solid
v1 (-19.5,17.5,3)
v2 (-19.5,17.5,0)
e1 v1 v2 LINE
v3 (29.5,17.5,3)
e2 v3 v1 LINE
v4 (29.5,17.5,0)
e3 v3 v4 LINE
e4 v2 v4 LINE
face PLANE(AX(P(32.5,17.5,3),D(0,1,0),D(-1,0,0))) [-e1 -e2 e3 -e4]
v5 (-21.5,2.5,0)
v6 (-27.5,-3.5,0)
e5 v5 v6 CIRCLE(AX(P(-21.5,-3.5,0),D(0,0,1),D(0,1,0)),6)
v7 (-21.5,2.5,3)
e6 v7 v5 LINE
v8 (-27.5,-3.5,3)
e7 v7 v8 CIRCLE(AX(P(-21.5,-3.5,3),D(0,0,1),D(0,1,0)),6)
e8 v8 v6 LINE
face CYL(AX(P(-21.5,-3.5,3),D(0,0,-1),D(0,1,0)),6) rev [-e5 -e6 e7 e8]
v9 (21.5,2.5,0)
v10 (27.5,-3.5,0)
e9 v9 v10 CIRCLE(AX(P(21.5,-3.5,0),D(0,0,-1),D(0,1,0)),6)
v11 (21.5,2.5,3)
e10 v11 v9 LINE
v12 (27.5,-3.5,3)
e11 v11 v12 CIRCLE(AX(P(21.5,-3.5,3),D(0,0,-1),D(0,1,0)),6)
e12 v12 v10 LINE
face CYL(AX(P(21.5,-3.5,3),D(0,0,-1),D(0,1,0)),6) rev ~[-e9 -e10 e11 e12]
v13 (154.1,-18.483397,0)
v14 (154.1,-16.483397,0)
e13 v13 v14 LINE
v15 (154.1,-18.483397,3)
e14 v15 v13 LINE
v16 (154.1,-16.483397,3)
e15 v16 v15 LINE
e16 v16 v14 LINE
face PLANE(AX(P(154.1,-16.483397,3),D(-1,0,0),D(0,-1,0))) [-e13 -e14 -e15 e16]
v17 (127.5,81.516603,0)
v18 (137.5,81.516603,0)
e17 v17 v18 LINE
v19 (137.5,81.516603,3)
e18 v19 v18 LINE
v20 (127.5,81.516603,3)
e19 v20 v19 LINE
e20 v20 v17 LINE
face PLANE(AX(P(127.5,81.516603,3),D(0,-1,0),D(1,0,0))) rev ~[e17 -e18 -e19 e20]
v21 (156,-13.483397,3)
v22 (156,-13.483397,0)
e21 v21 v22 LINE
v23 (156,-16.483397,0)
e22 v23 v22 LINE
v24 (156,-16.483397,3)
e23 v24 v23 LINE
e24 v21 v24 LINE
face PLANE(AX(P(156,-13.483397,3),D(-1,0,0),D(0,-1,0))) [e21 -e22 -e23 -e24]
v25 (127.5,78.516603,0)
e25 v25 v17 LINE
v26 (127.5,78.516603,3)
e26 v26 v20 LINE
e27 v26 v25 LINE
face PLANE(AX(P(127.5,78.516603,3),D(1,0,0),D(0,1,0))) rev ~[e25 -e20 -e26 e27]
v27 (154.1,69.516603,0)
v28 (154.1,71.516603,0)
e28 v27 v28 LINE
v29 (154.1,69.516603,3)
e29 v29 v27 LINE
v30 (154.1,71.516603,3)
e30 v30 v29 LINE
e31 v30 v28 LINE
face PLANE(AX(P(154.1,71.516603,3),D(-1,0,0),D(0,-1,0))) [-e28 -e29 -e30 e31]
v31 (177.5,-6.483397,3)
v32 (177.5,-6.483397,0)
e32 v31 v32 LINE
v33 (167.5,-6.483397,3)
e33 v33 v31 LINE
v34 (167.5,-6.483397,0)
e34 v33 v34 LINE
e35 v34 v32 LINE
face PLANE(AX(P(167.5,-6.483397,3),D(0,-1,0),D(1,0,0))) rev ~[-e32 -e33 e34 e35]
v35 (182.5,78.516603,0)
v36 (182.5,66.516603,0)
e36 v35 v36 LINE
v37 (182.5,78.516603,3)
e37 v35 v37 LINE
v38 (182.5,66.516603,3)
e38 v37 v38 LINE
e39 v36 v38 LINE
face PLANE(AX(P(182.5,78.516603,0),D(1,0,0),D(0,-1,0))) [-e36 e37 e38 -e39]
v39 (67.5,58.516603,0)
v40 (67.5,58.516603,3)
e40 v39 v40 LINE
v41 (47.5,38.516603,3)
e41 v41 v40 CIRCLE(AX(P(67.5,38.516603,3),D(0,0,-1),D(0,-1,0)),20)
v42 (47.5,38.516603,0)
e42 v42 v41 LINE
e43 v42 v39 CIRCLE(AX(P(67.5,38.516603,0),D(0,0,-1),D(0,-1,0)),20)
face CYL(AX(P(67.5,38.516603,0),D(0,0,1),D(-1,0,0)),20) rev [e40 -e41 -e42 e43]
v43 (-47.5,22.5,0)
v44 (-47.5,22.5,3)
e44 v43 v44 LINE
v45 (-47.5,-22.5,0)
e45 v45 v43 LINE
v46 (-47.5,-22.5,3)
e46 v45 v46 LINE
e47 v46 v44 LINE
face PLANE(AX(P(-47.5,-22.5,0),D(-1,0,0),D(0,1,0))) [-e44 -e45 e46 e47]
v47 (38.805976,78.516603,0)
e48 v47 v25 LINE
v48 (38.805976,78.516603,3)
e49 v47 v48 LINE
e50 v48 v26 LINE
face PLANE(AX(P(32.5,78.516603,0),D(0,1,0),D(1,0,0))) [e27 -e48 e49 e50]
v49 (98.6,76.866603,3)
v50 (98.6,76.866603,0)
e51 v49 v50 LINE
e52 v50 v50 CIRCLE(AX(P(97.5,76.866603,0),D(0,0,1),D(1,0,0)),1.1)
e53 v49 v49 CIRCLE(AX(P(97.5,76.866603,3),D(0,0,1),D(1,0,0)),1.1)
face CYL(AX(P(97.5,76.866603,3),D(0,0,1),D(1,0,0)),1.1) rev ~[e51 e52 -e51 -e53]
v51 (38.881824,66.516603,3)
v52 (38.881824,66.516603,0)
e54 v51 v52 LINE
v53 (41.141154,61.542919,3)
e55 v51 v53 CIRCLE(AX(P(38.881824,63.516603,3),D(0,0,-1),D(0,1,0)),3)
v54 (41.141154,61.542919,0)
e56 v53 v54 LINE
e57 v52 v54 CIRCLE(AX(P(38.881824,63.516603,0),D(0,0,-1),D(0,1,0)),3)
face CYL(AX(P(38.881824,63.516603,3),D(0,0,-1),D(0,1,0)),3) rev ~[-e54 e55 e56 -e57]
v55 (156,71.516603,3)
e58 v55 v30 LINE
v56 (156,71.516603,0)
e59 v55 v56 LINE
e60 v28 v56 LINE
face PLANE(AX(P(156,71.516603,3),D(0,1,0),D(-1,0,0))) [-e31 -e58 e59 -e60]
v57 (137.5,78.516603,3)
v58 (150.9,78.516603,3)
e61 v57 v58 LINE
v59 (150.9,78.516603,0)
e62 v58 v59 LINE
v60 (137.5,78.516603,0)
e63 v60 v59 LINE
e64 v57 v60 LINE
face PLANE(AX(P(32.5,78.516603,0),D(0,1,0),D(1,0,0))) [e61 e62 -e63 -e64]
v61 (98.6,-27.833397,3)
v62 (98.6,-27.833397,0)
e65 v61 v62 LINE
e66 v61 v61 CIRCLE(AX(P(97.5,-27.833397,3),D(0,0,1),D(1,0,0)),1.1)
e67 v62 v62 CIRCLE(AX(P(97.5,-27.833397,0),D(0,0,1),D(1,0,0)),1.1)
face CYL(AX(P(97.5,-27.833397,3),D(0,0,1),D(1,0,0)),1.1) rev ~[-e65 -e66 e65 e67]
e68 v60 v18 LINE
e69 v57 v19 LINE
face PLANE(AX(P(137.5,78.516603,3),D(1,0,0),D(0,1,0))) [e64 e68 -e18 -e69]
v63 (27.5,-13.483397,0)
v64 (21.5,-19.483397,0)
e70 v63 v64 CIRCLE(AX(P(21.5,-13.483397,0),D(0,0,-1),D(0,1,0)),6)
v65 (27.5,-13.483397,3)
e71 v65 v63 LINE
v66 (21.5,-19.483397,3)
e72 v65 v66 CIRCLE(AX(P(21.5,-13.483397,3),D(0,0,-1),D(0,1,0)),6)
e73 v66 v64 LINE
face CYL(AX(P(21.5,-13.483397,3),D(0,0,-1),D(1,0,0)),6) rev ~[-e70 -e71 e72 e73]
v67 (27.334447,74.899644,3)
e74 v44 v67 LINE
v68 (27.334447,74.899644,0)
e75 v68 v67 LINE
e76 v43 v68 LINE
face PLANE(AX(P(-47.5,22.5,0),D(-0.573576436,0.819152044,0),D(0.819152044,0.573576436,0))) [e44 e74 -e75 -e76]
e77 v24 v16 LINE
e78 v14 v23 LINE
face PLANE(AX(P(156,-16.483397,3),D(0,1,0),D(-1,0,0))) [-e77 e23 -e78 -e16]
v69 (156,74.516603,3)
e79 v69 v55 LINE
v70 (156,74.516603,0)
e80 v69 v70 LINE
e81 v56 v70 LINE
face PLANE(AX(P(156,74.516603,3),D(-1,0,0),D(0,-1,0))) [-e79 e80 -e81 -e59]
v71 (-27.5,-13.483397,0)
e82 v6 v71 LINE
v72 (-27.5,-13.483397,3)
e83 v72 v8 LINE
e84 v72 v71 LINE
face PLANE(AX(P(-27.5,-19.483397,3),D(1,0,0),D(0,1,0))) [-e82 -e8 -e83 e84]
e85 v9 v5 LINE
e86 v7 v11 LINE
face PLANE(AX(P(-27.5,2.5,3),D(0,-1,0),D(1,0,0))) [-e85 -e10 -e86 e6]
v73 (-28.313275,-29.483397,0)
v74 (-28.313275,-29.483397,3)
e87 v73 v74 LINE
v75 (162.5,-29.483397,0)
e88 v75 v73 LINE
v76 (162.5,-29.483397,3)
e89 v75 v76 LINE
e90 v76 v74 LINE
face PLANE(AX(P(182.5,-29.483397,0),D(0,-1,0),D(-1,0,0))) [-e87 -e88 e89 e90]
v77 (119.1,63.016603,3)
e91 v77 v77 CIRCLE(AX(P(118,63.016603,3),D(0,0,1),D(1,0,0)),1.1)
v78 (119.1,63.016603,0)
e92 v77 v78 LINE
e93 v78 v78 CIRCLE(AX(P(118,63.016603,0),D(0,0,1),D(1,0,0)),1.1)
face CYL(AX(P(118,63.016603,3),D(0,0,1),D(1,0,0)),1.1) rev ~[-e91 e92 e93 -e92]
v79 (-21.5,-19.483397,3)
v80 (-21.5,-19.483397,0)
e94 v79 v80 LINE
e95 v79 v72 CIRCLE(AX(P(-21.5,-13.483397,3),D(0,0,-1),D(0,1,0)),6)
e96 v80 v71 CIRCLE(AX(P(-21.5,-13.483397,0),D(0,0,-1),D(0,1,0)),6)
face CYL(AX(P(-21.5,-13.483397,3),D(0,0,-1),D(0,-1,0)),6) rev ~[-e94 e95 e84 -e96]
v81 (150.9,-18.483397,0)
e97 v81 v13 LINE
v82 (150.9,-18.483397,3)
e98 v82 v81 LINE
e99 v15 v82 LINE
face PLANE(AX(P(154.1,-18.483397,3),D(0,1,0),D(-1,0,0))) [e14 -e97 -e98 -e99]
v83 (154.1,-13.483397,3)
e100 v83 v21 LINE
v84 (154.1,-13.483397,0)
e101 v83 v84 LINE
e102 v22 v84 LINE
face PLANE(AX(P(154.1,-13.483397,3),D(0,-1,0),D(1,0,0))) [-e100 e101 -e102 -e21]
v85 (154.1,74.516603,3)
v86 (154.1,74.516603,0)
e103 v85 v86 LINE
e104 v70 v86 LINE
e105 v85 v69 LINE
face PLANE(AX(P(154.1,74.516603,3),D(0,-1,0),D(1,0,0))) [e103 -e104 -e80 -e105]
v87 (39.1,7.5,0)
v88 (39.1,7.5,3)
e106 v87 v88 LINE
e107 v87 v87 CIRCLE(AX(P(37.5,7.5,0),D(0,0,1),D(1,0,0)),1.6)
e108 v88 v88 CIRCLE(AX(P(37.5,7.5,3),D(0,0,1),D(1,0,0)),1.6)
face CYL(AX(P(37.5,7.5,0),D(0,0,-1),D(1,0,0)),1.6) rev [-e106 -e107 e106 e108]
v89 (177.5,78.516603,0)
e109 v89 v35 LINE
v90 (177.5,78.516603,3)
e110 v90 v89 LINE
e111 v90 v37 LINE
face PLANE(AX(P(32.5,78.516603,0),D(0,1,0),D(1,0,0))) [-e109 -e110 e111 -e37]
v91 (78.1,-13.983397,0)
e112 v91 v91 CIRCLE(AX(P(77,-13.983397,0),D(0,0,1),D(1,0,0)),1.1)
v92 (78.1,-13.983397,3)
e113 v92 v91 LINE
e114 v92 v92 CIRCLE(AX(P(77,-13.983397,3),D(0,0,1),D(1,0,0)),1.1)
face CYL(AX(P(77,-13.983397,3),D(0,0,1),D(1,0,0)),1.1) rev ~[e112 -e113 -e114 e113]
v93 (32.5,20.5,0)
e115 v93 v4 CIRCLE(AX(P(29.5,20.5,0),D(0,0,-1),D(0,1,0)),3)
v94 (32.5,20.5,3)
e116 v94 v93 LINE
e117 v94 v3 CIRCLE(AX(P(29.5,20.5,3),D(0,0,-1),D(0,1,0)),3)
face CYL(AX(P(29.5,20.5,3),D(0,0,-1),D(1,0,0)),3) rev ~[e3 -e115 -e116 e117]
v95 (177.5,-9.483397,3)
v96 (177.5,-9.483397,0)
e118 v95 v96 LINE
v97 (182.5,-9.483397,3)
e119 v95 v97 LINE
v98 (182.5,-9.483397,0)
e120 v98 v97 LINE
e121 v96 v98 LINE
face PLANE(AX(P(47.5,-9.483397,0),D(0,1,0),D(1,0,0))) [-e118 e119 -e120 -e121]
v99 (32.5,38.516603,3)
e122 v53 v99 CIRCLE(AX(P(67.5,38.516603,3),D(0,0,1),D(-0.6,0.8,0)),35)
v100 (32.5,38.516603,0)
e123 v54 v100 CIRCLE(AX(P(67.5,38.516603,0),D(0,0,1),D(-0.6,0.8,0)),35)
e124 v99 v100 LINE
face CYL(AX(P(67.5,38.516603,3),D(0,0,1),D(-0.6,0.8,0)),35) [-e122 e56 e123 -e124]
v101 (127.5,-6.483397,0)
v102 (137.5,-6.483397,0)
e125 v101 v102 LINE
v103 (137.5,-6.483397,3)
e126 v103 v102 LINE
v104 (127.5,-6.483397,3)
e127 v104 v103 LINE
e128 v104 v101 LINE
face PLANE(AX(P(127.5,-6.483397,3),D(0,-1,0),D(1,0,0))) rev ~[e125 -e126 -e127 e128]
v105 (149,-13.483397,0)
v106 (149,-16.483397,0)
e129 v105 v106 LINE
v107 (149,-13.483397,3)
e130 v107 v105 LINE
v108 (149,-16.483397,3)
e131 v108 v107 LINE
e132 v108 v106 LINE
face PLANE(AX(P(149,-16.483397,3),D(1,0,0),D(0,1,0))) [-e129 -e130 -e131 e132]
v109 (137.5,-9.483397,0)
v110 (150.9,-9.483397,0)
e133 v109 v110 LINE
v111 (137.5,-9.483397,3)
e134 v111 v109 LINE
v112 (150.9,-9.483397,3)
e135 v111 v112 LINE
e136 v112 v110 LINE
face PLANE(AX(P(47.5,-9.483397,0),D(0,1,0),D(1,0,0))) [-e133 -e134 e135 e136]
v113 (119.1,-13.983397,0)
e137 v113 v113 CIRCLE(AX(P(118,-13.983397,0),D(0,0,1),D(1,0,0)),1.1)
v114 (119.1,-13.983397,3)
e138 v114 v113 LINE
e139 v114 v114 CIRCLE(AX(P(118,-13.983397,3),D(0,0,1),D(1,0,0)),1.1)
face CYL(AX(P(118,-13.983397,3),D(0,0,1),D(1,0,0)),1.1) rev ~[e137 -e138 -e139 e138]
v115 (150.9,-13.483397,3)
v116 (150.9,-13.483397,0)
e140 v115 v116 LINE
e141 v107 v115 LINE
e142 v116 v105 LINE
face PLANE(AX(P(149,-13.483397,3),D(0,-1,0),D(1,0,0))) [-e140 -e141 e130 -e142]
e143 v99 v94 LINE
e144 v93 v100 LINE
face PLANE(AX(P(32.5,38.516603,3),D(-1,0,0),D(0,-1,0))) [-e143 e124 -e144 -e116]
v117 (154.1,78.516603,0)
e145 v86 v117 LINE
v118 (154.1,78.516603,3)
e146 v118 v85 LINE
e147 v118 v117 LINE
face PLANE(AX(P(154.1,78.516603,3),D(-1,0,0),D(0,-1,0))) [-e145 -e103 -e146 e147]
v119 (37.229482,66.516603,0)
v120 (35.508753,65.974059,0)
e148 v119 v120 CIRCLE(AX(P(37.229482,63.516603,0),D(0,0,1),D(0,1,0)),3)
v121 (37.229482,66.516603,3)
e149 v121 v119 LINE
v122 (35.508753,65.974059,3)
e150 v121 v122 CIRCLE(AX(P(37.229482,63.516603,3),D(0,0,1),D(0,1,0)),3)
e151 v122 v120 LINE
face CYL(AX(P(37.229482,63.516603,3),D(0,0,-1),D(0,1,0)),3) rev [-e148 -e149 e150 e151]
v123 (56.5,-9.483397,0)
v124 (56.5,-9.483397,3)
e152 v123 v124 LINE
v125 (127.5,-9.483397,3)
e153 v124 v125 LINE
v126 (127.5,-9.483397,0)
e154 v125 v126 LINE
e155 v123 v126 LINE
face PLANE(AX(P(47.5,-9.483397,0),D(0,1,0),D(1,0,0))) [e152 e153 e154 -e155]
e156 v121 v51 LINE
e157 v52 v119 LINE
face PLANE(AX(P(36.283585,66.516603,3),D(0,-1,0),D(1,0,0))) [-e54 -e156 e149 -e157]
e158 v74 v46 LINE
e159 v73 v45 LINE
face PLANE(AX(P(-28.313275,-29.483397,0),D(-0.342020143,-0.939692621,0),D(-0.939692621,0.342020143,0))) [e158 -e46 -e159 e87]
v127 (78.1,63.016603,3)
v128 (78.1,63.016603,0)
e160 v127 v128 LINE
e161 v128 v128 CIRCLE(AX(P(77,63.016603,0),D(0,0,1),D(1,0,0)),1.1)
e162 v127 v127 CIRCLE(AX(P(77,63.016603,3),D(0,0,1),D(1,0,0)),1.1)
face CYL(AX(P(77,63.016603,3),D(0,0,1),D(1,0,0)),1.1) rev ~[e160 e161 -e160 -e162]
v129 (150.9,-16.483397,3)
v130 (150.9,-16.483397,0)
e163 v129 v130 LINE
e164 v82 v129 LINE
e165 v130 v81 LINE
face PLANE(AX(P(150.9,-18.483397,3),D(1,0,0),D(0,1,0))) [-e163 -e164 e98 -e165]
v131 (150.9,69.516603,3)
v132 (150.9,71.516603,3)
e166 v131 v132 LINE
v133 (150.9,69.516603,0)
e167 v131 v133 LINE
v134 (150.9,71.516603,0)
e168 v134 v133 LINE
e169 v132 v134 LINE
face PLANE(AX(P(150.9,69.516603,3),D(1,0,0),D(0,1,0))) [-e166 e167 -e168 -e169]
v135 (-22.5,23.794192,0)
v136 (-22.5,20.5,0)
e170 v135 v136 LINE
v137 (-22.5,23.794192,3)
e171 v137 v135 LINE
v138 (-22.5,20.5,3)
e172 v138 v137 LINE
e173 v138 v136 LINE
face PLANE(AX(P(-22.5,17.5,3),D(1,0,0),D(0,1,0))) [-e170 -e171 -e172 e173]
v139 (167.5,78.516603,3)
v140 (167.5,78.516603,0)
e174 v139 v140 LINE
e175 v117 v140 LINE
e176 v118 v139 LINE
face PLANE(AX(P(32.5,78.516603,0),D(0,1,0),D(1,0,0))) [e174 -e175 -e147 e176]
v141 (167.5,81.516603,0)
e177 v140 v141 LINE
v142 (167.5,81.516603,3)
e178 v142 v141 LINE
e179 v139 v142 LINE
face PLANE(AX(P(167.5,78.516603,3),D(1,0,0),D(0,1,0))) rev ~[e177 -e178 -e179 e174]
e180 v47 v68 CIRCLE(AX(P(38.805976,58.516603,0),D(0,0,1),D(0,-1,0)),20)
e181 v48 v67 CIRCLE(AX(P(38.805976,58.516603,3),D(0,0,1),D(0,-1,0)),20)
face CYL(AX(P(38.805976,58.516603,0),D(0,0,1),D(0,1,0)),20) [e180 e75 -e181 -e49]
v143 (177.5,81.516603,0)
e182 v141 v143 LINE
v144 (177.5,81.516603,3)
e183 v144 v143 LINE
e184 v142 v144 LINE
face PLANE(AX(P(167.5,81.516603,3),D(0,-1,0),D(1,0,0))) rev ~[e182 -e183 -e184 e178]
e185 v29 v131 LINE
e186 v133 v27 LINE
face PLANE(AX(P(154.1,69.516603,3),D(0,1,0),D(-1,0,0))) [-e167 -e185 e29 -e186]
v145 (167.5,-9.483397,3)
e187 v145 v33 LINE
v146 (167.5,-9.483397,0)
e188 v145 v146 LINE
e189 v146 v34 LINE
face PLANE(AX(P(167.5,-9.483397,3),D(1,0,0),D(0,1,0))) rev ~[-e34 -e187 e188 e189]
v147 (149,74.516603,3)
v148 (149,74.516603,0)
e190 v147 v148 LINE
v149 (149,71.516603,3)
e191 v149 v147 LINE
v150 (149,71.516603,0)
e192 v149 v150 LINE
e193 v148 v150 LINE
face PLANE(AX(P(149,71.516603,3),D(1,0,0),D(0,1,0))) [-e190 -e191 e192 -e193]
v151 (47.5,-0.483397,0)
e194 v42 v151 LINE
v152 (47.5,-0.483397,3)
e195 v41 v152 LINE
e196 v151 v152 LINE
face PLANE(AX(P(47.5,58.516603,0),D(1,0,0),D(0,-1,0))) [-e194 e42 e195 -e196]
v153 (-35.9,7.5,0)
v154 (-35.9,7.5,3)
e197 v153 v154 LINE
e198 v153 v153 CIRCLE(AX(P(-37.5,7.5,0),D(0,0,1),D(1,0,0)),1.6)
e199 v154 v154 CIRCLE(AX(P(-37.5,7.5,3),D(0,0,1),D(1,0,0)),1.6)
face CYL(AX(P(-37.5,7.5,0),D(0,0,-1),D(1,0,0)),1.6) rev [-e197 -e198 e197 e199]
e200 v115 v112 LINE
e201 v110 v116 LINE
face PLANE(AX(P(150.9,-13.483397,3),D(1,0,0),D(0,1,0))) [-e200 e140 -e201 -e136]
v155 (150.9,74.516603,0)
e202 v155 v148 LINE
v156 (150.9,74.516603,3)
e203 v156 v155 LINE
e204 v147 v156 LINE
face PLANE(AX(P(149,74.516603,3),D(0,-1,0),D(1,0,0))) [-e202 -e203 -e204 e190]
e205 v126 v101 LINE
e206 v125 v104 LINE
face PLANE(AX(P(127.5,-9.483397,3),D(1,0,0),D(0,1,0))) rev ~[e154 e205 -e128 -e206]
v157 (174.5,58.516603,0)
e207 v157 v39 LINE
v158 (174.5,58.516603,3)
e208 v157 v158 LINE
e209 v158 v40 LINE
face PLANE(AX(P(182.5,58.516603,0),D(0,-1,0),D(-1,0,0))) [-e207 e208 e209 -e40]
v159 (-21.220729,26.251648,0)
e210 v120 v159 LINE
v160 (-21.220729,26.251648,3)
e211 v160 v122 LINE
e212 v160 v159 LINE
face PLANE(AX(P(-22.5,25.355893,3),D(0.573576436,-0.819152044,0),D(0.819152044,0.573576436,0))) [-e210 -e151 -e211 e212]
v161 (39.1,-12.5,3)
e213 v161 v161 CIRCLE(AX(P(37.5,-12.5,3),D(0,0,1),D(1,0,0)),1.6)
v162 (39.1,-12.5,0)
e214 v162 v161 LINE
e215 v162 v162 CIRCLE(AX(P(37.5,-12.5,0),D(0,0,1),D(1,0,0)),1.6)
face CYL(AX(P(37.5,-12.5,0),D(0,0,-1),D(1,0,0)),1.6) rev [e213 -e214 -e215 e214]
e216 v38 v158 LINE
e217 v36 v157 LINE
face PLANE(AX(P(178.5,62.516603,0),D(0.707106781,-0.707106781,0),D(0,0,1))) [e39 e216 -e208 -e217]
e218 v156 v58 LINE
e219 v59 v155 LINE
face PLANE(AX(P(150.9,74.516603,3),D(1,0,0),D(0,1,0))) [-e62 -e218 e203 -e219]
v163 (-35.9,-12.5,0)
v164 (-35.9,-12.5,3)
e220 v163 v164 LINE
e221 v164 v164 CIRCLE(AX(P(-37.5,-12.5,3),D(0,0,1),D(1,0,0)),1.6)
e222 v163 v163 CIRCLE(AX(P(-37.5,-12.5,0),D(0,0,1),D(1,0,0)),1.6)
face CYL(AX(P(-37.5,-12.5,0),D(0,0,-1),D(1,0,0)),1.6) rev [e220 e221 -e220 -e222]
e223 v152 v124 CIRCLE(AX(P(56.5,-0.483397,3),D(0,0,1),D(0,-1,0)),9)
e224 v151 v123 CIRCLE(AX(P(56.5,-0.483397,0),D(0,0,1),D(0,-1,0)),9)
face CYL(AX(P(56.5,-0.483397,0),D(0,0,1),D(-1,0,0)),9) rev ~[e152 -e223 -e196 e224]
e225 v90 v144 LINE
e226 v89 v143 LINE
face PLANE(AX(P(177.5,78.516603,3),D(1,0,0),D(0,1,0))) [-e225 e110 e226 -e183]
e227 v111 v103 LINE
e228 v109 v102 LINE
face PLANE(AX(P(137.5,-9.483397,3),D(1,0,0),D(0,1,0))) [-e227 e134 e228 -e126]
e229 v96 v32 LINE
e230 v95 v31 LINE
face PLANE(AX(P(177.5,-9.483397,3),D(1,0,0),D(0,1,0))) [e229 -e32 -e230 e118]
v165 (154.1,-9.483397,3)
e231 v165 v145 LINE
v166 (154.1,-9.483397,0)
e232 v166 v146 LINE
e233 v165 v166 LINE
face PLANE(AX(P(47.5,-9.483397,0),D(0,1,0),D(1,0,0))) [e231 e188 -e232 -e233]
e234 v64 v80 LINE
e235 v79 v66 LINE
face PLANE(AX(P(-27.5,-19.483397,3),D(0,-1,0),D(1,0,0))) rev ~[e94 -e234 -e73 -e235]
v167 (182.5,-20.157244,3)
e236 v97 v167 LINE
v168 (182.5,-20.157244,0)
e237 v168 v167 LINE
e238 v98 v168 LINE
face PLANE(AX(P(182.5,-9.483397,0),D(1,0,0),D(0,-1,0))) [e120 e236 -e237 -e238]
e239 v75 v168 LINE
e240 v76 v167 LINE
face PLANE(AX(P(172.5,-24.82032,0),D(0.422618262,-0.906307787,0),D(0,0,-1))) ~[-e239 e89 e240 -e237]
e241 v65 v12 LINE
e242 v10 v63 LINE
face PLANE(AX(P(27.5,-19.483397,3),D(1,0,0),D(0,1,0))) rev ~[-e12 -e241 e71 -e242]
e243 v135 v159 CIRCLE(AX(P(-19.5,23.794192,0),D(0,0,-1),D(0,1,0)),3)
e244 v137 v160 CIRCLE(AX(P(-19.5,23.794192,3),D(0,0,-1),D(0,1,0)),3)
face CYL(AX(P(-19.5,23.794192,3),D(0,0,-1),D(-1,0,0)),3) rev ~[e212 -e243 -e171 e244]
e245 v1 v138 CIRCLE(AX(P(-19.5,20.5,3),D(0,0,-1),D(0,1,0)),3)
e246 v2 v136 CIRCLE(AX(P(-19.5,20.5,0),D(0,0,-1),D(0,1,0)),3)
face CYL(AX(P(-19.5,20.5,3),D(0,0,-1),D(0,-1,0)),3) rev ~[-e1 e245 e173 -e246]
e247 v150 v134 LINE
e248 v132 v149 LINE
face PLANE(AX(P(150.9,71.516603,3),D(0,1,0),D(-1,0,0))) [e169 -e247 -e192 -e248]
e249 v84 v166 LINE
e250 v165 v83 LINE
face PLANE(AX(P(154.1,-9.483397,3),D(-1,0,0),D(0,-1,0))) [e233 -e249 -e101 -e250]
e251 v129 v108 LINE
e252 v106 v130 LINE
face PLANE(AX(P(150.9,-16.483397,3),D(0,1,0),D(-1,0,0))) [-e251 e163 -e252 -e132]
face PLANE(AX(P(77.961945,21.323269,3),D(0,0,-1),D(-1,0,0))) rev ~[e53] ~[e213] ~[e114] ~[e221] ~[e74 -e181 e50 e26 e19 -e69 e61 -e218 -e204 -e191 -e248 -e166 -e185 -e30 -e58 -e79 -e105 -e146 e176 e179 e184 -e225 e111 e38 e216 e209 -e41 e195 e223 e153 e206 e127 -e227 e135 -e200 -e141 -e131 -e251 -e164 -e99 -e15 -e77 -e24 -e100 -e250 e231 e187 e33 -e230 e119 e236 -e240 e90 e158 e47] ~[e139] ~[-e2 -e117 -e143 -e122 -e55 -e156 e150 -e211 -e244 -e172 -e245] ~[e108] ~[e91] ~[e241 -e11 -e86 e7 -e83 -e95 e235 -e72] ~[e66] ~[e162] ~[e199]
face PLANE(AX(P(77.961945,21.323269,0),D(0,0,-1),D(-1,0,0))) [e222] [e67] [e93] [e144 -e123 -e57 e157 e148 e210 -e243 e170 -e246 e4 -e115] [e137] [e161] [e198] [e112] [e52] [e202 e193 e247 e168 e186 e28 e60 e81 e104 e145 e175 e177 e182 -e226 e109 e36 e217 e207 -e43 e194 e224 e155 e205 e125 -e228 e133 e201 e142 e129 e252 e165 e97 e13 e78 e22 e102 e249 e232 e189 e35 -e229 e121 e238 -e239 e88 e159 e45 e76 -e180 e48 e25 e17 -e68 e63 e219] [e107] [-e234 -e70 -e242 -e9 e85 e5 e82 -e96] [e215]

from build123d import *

# Parameters (mm, degrees)
SKETCH_1_R          = 1.6
EXTRUDE_1_DEPTH     = 3
SKETCH_4_W          = 10
SKETCH_4_H          = 3
EXTRUDE_2_DEPTH     = 3
SKETCH_5_R          = 1.1
CUT_EXTRUDE_1_DEPTH = 200.90049168
FILLET_1_R          = 20
FILLET_2_R          = 9
SKETCH_6_W          = 55
SKETCH_6_H          = 21.983396943
CUT_EXTRUDE_2_DEPTH = 200.90049168
FILLET_3_R          = 6
FILLET_4_R          = 3
FILLET_5_R          = 20
CHAMFER_1_SIZE      = 8
CHAMFER_3_SIZE      = 20
CHAMFER_3_SIZE2     = 9.326153163


with BuildPart() as part:
    # 草图1 → 凸台-拉伸1 (new body)
    with BuildSketch(Plane.XY):
        Polygon((-47.5, -22.5), (-47.5, 22.5), (32.5, 78.516603057), (182.5, 78.516603057), (182.5, 58.516603057), (47.5, 58.516603057), (47.5, -9.483396943), (182.5, -9.483396943), (182.5, -29.483396943), (-28.313274587, -29.483396943), align=None)
        with Locations((-37.5, 7.5)):
            Circle(SKETCH_1_R, mode=Mode.SUBTRACT)
        with Locations((-37.5, -12.5)):
            Circle(SKETCH_1_R, mode=Mode.SUBTRACT)
        with Locations((37.5, 7.5)):
            Circle(SKETCH_1_R, mode=Mode.SUBTRACT)
        with Locations((37.5, -12.5)):
            Circle(SKETCH_1_R, mode=Mode.SUBTRACT)
    extrude(amount=EXTRUDE_1_DEPTH)

    # 草图4 → 凸台-拉伸2 (add)
    with BuildSketch(Plane.XY.offset(3)):
        with Locations((132.5, 80.016603057)):
            Rectangle(SKETCH_4_W, SKETCH_4_H)
        with Locations((172.5, 80.016603057)):
            Rectangle(SKETCH_4_W, SKETCH_4_H)
        with Locations((132.5, -7.983396943)):
            Rectangle(SKETCH_4_W, SKETCH_4_H)
        with Locations((172.5, -7.983396943)):
            Rectangle(SKETCH_4_W, SKETCH_4_H)
    extrude(amount=-EXTRUDE_2_DEPTH)

    # 草图5 → 切除-拉伸1 (cut, through all)
    with BuildSketch(Plane.XY.offset(3)):
        with Locations((77, -13.983396943)):
            Circle(SKETCH_5_R)
        with Locations((118, -13.983396943)):
            Circle(SKETCH_5_R)
        with Locations((97.5, -27.833396943)):
            Circle(SKETCH_5_R)
        with Locations((77, 63.016603057)):
            Circle(SKETCH_5_R)
        with Locations((118, 63.016603057)):
            Circle(SKETCH_5_R)
        with Locations((97.5, 76.866603057)):
            Circle(SKETCH_5_R)
        Polygon((150.9, 78.516603057), (154.1, 78.516603057), (154.1, 74.516603057), (156, 74.516603057), (156, 71.516603057), (154.1, 71.516603057), (154.1, 69.516603057), (150.9, 69.516603057), (150.9, 71.516603057), (149, 71.516603057), (149, 74.516603057), (150.9, 74.516603057), align=None)
        Polygon((150.9, -9.483396943), (154.1, -9.483396943), (154.1, -13.483396943), (156, -13.483396943), (156, -16.483396943), (154.1, -16.483396943), (154.1, -18.483396943), (150.9, -18.483396943), (150.9, -16.483396943), (149, -16.483396943), (149, -13.483396943), (150.9, -13.483396943), align=None)
    extrude(amount=-CUT_EXTRUDE_1_DEPTH, mode=Mode.SUBTRACT)

    # 圆角1
    fillet_1_edges = [part.edges().sort_by_distance(p)[0] for p in [
        (47.5, 58.516603057, 1.5),
    ]]
    fillet(fillet_1_edges, radius=FILLET_1_R)

    # 圆角2
    fillet_2_edges = [part.edges().sort_by_distance(p)[0] for p in [
        (47.5, -9.483396943, 1.5),
    ]]
    fillet(fillet_2_edges, radius=FILLET_2_R)

    # 草图6 → 切除-拉伸2 (cut, through all)
    with BuildSketch(Plane.XY.offset(3)):
        with BuildLine():
            Line((-22.5, 25.35589339), (36.283585467, 66.516603057))
            Line((36.283585467, 66.516603057), (46.5, 66.516603057))
            ThreePointArc((46.5, 66.516603057), (36.195048315, 54.169078899), (32.5, 38.516603057))
            Line((32.5, 38.516603057), (32.5, 17.5))
            Line((32.5, 17.5), (-22.5, 17.5))
            Line((-22.5, 17.5), (-22.5, 25.35589339))
        make_face()
        with Locations((0, -8.491698472)):
            Rectangle(SKETCH_6_W, SKETCH_6_H)
    extrude(amount=-CUT_EXTRUDE_2_DEPTH, mode=Mode.SUBTRACT)

    # 圆角3
    fillet_3_edges = [part.edges().sort_by_distance(p)[0] for p in [
        (27.5, 2.5, 1.5),
        (27.5, -19.483396943, 1.5),
        (-27.5, -19.483396943, 1.5),
        (-27.5, 2.5, 1.5),
    ]]
    fillet(fillet_3_edges, radius=FILLET_3_R)

    # 圆角4
    fillet_4_edges = [part.edges().sort_by_distance(p)[0] for p in [
        (-22.5, 17.5, 1.5),
        (-22.5, 25.35589339, 1.5),
        (36.283585467, 66.516603057, 1.5),
        (46.5, 66.516603057, 1.5),
        (32.5, 17.5, 1.5),
    ]]
    fillet(fillet_4_edges, radius=FILLET_4_R)

    # 圆角5
    fillet_5_edges = [part.edges().sort_by_distance(p)[0] for p in [
        (32.5, 78.516603057, 1.5),
    ]]
    fillet(fillet_5_edges, radius=FILLET_5_R)

    # 倒角1
    chamfer_1_edges = [part.edges().sort_by_distance(p)[0] for p in [
        (182.5, 58.516603057, 1.5),
    ]]
    chamfer(chamfer_1_edges, length=CHAMFER_1_SIZE)

    # 倒角3
    chamfer_3_edges = [part.edges().sort_by_distance(p)[0] for p in [
        (182.5, -29.483396943, 1.5),
    ]]
    chamfer_3_side = [part.faces().sort_by_distance(p)[0] for p in [
        (77.093362706, -29.483396943, 1.5),
    ]]
    chamfer(chamfer_3_edges, length=CHAMFER_3_SIZE, length2=CHAMFER_3_SIZE2, reference=chamfer_3_side[0])


solid = part.part
